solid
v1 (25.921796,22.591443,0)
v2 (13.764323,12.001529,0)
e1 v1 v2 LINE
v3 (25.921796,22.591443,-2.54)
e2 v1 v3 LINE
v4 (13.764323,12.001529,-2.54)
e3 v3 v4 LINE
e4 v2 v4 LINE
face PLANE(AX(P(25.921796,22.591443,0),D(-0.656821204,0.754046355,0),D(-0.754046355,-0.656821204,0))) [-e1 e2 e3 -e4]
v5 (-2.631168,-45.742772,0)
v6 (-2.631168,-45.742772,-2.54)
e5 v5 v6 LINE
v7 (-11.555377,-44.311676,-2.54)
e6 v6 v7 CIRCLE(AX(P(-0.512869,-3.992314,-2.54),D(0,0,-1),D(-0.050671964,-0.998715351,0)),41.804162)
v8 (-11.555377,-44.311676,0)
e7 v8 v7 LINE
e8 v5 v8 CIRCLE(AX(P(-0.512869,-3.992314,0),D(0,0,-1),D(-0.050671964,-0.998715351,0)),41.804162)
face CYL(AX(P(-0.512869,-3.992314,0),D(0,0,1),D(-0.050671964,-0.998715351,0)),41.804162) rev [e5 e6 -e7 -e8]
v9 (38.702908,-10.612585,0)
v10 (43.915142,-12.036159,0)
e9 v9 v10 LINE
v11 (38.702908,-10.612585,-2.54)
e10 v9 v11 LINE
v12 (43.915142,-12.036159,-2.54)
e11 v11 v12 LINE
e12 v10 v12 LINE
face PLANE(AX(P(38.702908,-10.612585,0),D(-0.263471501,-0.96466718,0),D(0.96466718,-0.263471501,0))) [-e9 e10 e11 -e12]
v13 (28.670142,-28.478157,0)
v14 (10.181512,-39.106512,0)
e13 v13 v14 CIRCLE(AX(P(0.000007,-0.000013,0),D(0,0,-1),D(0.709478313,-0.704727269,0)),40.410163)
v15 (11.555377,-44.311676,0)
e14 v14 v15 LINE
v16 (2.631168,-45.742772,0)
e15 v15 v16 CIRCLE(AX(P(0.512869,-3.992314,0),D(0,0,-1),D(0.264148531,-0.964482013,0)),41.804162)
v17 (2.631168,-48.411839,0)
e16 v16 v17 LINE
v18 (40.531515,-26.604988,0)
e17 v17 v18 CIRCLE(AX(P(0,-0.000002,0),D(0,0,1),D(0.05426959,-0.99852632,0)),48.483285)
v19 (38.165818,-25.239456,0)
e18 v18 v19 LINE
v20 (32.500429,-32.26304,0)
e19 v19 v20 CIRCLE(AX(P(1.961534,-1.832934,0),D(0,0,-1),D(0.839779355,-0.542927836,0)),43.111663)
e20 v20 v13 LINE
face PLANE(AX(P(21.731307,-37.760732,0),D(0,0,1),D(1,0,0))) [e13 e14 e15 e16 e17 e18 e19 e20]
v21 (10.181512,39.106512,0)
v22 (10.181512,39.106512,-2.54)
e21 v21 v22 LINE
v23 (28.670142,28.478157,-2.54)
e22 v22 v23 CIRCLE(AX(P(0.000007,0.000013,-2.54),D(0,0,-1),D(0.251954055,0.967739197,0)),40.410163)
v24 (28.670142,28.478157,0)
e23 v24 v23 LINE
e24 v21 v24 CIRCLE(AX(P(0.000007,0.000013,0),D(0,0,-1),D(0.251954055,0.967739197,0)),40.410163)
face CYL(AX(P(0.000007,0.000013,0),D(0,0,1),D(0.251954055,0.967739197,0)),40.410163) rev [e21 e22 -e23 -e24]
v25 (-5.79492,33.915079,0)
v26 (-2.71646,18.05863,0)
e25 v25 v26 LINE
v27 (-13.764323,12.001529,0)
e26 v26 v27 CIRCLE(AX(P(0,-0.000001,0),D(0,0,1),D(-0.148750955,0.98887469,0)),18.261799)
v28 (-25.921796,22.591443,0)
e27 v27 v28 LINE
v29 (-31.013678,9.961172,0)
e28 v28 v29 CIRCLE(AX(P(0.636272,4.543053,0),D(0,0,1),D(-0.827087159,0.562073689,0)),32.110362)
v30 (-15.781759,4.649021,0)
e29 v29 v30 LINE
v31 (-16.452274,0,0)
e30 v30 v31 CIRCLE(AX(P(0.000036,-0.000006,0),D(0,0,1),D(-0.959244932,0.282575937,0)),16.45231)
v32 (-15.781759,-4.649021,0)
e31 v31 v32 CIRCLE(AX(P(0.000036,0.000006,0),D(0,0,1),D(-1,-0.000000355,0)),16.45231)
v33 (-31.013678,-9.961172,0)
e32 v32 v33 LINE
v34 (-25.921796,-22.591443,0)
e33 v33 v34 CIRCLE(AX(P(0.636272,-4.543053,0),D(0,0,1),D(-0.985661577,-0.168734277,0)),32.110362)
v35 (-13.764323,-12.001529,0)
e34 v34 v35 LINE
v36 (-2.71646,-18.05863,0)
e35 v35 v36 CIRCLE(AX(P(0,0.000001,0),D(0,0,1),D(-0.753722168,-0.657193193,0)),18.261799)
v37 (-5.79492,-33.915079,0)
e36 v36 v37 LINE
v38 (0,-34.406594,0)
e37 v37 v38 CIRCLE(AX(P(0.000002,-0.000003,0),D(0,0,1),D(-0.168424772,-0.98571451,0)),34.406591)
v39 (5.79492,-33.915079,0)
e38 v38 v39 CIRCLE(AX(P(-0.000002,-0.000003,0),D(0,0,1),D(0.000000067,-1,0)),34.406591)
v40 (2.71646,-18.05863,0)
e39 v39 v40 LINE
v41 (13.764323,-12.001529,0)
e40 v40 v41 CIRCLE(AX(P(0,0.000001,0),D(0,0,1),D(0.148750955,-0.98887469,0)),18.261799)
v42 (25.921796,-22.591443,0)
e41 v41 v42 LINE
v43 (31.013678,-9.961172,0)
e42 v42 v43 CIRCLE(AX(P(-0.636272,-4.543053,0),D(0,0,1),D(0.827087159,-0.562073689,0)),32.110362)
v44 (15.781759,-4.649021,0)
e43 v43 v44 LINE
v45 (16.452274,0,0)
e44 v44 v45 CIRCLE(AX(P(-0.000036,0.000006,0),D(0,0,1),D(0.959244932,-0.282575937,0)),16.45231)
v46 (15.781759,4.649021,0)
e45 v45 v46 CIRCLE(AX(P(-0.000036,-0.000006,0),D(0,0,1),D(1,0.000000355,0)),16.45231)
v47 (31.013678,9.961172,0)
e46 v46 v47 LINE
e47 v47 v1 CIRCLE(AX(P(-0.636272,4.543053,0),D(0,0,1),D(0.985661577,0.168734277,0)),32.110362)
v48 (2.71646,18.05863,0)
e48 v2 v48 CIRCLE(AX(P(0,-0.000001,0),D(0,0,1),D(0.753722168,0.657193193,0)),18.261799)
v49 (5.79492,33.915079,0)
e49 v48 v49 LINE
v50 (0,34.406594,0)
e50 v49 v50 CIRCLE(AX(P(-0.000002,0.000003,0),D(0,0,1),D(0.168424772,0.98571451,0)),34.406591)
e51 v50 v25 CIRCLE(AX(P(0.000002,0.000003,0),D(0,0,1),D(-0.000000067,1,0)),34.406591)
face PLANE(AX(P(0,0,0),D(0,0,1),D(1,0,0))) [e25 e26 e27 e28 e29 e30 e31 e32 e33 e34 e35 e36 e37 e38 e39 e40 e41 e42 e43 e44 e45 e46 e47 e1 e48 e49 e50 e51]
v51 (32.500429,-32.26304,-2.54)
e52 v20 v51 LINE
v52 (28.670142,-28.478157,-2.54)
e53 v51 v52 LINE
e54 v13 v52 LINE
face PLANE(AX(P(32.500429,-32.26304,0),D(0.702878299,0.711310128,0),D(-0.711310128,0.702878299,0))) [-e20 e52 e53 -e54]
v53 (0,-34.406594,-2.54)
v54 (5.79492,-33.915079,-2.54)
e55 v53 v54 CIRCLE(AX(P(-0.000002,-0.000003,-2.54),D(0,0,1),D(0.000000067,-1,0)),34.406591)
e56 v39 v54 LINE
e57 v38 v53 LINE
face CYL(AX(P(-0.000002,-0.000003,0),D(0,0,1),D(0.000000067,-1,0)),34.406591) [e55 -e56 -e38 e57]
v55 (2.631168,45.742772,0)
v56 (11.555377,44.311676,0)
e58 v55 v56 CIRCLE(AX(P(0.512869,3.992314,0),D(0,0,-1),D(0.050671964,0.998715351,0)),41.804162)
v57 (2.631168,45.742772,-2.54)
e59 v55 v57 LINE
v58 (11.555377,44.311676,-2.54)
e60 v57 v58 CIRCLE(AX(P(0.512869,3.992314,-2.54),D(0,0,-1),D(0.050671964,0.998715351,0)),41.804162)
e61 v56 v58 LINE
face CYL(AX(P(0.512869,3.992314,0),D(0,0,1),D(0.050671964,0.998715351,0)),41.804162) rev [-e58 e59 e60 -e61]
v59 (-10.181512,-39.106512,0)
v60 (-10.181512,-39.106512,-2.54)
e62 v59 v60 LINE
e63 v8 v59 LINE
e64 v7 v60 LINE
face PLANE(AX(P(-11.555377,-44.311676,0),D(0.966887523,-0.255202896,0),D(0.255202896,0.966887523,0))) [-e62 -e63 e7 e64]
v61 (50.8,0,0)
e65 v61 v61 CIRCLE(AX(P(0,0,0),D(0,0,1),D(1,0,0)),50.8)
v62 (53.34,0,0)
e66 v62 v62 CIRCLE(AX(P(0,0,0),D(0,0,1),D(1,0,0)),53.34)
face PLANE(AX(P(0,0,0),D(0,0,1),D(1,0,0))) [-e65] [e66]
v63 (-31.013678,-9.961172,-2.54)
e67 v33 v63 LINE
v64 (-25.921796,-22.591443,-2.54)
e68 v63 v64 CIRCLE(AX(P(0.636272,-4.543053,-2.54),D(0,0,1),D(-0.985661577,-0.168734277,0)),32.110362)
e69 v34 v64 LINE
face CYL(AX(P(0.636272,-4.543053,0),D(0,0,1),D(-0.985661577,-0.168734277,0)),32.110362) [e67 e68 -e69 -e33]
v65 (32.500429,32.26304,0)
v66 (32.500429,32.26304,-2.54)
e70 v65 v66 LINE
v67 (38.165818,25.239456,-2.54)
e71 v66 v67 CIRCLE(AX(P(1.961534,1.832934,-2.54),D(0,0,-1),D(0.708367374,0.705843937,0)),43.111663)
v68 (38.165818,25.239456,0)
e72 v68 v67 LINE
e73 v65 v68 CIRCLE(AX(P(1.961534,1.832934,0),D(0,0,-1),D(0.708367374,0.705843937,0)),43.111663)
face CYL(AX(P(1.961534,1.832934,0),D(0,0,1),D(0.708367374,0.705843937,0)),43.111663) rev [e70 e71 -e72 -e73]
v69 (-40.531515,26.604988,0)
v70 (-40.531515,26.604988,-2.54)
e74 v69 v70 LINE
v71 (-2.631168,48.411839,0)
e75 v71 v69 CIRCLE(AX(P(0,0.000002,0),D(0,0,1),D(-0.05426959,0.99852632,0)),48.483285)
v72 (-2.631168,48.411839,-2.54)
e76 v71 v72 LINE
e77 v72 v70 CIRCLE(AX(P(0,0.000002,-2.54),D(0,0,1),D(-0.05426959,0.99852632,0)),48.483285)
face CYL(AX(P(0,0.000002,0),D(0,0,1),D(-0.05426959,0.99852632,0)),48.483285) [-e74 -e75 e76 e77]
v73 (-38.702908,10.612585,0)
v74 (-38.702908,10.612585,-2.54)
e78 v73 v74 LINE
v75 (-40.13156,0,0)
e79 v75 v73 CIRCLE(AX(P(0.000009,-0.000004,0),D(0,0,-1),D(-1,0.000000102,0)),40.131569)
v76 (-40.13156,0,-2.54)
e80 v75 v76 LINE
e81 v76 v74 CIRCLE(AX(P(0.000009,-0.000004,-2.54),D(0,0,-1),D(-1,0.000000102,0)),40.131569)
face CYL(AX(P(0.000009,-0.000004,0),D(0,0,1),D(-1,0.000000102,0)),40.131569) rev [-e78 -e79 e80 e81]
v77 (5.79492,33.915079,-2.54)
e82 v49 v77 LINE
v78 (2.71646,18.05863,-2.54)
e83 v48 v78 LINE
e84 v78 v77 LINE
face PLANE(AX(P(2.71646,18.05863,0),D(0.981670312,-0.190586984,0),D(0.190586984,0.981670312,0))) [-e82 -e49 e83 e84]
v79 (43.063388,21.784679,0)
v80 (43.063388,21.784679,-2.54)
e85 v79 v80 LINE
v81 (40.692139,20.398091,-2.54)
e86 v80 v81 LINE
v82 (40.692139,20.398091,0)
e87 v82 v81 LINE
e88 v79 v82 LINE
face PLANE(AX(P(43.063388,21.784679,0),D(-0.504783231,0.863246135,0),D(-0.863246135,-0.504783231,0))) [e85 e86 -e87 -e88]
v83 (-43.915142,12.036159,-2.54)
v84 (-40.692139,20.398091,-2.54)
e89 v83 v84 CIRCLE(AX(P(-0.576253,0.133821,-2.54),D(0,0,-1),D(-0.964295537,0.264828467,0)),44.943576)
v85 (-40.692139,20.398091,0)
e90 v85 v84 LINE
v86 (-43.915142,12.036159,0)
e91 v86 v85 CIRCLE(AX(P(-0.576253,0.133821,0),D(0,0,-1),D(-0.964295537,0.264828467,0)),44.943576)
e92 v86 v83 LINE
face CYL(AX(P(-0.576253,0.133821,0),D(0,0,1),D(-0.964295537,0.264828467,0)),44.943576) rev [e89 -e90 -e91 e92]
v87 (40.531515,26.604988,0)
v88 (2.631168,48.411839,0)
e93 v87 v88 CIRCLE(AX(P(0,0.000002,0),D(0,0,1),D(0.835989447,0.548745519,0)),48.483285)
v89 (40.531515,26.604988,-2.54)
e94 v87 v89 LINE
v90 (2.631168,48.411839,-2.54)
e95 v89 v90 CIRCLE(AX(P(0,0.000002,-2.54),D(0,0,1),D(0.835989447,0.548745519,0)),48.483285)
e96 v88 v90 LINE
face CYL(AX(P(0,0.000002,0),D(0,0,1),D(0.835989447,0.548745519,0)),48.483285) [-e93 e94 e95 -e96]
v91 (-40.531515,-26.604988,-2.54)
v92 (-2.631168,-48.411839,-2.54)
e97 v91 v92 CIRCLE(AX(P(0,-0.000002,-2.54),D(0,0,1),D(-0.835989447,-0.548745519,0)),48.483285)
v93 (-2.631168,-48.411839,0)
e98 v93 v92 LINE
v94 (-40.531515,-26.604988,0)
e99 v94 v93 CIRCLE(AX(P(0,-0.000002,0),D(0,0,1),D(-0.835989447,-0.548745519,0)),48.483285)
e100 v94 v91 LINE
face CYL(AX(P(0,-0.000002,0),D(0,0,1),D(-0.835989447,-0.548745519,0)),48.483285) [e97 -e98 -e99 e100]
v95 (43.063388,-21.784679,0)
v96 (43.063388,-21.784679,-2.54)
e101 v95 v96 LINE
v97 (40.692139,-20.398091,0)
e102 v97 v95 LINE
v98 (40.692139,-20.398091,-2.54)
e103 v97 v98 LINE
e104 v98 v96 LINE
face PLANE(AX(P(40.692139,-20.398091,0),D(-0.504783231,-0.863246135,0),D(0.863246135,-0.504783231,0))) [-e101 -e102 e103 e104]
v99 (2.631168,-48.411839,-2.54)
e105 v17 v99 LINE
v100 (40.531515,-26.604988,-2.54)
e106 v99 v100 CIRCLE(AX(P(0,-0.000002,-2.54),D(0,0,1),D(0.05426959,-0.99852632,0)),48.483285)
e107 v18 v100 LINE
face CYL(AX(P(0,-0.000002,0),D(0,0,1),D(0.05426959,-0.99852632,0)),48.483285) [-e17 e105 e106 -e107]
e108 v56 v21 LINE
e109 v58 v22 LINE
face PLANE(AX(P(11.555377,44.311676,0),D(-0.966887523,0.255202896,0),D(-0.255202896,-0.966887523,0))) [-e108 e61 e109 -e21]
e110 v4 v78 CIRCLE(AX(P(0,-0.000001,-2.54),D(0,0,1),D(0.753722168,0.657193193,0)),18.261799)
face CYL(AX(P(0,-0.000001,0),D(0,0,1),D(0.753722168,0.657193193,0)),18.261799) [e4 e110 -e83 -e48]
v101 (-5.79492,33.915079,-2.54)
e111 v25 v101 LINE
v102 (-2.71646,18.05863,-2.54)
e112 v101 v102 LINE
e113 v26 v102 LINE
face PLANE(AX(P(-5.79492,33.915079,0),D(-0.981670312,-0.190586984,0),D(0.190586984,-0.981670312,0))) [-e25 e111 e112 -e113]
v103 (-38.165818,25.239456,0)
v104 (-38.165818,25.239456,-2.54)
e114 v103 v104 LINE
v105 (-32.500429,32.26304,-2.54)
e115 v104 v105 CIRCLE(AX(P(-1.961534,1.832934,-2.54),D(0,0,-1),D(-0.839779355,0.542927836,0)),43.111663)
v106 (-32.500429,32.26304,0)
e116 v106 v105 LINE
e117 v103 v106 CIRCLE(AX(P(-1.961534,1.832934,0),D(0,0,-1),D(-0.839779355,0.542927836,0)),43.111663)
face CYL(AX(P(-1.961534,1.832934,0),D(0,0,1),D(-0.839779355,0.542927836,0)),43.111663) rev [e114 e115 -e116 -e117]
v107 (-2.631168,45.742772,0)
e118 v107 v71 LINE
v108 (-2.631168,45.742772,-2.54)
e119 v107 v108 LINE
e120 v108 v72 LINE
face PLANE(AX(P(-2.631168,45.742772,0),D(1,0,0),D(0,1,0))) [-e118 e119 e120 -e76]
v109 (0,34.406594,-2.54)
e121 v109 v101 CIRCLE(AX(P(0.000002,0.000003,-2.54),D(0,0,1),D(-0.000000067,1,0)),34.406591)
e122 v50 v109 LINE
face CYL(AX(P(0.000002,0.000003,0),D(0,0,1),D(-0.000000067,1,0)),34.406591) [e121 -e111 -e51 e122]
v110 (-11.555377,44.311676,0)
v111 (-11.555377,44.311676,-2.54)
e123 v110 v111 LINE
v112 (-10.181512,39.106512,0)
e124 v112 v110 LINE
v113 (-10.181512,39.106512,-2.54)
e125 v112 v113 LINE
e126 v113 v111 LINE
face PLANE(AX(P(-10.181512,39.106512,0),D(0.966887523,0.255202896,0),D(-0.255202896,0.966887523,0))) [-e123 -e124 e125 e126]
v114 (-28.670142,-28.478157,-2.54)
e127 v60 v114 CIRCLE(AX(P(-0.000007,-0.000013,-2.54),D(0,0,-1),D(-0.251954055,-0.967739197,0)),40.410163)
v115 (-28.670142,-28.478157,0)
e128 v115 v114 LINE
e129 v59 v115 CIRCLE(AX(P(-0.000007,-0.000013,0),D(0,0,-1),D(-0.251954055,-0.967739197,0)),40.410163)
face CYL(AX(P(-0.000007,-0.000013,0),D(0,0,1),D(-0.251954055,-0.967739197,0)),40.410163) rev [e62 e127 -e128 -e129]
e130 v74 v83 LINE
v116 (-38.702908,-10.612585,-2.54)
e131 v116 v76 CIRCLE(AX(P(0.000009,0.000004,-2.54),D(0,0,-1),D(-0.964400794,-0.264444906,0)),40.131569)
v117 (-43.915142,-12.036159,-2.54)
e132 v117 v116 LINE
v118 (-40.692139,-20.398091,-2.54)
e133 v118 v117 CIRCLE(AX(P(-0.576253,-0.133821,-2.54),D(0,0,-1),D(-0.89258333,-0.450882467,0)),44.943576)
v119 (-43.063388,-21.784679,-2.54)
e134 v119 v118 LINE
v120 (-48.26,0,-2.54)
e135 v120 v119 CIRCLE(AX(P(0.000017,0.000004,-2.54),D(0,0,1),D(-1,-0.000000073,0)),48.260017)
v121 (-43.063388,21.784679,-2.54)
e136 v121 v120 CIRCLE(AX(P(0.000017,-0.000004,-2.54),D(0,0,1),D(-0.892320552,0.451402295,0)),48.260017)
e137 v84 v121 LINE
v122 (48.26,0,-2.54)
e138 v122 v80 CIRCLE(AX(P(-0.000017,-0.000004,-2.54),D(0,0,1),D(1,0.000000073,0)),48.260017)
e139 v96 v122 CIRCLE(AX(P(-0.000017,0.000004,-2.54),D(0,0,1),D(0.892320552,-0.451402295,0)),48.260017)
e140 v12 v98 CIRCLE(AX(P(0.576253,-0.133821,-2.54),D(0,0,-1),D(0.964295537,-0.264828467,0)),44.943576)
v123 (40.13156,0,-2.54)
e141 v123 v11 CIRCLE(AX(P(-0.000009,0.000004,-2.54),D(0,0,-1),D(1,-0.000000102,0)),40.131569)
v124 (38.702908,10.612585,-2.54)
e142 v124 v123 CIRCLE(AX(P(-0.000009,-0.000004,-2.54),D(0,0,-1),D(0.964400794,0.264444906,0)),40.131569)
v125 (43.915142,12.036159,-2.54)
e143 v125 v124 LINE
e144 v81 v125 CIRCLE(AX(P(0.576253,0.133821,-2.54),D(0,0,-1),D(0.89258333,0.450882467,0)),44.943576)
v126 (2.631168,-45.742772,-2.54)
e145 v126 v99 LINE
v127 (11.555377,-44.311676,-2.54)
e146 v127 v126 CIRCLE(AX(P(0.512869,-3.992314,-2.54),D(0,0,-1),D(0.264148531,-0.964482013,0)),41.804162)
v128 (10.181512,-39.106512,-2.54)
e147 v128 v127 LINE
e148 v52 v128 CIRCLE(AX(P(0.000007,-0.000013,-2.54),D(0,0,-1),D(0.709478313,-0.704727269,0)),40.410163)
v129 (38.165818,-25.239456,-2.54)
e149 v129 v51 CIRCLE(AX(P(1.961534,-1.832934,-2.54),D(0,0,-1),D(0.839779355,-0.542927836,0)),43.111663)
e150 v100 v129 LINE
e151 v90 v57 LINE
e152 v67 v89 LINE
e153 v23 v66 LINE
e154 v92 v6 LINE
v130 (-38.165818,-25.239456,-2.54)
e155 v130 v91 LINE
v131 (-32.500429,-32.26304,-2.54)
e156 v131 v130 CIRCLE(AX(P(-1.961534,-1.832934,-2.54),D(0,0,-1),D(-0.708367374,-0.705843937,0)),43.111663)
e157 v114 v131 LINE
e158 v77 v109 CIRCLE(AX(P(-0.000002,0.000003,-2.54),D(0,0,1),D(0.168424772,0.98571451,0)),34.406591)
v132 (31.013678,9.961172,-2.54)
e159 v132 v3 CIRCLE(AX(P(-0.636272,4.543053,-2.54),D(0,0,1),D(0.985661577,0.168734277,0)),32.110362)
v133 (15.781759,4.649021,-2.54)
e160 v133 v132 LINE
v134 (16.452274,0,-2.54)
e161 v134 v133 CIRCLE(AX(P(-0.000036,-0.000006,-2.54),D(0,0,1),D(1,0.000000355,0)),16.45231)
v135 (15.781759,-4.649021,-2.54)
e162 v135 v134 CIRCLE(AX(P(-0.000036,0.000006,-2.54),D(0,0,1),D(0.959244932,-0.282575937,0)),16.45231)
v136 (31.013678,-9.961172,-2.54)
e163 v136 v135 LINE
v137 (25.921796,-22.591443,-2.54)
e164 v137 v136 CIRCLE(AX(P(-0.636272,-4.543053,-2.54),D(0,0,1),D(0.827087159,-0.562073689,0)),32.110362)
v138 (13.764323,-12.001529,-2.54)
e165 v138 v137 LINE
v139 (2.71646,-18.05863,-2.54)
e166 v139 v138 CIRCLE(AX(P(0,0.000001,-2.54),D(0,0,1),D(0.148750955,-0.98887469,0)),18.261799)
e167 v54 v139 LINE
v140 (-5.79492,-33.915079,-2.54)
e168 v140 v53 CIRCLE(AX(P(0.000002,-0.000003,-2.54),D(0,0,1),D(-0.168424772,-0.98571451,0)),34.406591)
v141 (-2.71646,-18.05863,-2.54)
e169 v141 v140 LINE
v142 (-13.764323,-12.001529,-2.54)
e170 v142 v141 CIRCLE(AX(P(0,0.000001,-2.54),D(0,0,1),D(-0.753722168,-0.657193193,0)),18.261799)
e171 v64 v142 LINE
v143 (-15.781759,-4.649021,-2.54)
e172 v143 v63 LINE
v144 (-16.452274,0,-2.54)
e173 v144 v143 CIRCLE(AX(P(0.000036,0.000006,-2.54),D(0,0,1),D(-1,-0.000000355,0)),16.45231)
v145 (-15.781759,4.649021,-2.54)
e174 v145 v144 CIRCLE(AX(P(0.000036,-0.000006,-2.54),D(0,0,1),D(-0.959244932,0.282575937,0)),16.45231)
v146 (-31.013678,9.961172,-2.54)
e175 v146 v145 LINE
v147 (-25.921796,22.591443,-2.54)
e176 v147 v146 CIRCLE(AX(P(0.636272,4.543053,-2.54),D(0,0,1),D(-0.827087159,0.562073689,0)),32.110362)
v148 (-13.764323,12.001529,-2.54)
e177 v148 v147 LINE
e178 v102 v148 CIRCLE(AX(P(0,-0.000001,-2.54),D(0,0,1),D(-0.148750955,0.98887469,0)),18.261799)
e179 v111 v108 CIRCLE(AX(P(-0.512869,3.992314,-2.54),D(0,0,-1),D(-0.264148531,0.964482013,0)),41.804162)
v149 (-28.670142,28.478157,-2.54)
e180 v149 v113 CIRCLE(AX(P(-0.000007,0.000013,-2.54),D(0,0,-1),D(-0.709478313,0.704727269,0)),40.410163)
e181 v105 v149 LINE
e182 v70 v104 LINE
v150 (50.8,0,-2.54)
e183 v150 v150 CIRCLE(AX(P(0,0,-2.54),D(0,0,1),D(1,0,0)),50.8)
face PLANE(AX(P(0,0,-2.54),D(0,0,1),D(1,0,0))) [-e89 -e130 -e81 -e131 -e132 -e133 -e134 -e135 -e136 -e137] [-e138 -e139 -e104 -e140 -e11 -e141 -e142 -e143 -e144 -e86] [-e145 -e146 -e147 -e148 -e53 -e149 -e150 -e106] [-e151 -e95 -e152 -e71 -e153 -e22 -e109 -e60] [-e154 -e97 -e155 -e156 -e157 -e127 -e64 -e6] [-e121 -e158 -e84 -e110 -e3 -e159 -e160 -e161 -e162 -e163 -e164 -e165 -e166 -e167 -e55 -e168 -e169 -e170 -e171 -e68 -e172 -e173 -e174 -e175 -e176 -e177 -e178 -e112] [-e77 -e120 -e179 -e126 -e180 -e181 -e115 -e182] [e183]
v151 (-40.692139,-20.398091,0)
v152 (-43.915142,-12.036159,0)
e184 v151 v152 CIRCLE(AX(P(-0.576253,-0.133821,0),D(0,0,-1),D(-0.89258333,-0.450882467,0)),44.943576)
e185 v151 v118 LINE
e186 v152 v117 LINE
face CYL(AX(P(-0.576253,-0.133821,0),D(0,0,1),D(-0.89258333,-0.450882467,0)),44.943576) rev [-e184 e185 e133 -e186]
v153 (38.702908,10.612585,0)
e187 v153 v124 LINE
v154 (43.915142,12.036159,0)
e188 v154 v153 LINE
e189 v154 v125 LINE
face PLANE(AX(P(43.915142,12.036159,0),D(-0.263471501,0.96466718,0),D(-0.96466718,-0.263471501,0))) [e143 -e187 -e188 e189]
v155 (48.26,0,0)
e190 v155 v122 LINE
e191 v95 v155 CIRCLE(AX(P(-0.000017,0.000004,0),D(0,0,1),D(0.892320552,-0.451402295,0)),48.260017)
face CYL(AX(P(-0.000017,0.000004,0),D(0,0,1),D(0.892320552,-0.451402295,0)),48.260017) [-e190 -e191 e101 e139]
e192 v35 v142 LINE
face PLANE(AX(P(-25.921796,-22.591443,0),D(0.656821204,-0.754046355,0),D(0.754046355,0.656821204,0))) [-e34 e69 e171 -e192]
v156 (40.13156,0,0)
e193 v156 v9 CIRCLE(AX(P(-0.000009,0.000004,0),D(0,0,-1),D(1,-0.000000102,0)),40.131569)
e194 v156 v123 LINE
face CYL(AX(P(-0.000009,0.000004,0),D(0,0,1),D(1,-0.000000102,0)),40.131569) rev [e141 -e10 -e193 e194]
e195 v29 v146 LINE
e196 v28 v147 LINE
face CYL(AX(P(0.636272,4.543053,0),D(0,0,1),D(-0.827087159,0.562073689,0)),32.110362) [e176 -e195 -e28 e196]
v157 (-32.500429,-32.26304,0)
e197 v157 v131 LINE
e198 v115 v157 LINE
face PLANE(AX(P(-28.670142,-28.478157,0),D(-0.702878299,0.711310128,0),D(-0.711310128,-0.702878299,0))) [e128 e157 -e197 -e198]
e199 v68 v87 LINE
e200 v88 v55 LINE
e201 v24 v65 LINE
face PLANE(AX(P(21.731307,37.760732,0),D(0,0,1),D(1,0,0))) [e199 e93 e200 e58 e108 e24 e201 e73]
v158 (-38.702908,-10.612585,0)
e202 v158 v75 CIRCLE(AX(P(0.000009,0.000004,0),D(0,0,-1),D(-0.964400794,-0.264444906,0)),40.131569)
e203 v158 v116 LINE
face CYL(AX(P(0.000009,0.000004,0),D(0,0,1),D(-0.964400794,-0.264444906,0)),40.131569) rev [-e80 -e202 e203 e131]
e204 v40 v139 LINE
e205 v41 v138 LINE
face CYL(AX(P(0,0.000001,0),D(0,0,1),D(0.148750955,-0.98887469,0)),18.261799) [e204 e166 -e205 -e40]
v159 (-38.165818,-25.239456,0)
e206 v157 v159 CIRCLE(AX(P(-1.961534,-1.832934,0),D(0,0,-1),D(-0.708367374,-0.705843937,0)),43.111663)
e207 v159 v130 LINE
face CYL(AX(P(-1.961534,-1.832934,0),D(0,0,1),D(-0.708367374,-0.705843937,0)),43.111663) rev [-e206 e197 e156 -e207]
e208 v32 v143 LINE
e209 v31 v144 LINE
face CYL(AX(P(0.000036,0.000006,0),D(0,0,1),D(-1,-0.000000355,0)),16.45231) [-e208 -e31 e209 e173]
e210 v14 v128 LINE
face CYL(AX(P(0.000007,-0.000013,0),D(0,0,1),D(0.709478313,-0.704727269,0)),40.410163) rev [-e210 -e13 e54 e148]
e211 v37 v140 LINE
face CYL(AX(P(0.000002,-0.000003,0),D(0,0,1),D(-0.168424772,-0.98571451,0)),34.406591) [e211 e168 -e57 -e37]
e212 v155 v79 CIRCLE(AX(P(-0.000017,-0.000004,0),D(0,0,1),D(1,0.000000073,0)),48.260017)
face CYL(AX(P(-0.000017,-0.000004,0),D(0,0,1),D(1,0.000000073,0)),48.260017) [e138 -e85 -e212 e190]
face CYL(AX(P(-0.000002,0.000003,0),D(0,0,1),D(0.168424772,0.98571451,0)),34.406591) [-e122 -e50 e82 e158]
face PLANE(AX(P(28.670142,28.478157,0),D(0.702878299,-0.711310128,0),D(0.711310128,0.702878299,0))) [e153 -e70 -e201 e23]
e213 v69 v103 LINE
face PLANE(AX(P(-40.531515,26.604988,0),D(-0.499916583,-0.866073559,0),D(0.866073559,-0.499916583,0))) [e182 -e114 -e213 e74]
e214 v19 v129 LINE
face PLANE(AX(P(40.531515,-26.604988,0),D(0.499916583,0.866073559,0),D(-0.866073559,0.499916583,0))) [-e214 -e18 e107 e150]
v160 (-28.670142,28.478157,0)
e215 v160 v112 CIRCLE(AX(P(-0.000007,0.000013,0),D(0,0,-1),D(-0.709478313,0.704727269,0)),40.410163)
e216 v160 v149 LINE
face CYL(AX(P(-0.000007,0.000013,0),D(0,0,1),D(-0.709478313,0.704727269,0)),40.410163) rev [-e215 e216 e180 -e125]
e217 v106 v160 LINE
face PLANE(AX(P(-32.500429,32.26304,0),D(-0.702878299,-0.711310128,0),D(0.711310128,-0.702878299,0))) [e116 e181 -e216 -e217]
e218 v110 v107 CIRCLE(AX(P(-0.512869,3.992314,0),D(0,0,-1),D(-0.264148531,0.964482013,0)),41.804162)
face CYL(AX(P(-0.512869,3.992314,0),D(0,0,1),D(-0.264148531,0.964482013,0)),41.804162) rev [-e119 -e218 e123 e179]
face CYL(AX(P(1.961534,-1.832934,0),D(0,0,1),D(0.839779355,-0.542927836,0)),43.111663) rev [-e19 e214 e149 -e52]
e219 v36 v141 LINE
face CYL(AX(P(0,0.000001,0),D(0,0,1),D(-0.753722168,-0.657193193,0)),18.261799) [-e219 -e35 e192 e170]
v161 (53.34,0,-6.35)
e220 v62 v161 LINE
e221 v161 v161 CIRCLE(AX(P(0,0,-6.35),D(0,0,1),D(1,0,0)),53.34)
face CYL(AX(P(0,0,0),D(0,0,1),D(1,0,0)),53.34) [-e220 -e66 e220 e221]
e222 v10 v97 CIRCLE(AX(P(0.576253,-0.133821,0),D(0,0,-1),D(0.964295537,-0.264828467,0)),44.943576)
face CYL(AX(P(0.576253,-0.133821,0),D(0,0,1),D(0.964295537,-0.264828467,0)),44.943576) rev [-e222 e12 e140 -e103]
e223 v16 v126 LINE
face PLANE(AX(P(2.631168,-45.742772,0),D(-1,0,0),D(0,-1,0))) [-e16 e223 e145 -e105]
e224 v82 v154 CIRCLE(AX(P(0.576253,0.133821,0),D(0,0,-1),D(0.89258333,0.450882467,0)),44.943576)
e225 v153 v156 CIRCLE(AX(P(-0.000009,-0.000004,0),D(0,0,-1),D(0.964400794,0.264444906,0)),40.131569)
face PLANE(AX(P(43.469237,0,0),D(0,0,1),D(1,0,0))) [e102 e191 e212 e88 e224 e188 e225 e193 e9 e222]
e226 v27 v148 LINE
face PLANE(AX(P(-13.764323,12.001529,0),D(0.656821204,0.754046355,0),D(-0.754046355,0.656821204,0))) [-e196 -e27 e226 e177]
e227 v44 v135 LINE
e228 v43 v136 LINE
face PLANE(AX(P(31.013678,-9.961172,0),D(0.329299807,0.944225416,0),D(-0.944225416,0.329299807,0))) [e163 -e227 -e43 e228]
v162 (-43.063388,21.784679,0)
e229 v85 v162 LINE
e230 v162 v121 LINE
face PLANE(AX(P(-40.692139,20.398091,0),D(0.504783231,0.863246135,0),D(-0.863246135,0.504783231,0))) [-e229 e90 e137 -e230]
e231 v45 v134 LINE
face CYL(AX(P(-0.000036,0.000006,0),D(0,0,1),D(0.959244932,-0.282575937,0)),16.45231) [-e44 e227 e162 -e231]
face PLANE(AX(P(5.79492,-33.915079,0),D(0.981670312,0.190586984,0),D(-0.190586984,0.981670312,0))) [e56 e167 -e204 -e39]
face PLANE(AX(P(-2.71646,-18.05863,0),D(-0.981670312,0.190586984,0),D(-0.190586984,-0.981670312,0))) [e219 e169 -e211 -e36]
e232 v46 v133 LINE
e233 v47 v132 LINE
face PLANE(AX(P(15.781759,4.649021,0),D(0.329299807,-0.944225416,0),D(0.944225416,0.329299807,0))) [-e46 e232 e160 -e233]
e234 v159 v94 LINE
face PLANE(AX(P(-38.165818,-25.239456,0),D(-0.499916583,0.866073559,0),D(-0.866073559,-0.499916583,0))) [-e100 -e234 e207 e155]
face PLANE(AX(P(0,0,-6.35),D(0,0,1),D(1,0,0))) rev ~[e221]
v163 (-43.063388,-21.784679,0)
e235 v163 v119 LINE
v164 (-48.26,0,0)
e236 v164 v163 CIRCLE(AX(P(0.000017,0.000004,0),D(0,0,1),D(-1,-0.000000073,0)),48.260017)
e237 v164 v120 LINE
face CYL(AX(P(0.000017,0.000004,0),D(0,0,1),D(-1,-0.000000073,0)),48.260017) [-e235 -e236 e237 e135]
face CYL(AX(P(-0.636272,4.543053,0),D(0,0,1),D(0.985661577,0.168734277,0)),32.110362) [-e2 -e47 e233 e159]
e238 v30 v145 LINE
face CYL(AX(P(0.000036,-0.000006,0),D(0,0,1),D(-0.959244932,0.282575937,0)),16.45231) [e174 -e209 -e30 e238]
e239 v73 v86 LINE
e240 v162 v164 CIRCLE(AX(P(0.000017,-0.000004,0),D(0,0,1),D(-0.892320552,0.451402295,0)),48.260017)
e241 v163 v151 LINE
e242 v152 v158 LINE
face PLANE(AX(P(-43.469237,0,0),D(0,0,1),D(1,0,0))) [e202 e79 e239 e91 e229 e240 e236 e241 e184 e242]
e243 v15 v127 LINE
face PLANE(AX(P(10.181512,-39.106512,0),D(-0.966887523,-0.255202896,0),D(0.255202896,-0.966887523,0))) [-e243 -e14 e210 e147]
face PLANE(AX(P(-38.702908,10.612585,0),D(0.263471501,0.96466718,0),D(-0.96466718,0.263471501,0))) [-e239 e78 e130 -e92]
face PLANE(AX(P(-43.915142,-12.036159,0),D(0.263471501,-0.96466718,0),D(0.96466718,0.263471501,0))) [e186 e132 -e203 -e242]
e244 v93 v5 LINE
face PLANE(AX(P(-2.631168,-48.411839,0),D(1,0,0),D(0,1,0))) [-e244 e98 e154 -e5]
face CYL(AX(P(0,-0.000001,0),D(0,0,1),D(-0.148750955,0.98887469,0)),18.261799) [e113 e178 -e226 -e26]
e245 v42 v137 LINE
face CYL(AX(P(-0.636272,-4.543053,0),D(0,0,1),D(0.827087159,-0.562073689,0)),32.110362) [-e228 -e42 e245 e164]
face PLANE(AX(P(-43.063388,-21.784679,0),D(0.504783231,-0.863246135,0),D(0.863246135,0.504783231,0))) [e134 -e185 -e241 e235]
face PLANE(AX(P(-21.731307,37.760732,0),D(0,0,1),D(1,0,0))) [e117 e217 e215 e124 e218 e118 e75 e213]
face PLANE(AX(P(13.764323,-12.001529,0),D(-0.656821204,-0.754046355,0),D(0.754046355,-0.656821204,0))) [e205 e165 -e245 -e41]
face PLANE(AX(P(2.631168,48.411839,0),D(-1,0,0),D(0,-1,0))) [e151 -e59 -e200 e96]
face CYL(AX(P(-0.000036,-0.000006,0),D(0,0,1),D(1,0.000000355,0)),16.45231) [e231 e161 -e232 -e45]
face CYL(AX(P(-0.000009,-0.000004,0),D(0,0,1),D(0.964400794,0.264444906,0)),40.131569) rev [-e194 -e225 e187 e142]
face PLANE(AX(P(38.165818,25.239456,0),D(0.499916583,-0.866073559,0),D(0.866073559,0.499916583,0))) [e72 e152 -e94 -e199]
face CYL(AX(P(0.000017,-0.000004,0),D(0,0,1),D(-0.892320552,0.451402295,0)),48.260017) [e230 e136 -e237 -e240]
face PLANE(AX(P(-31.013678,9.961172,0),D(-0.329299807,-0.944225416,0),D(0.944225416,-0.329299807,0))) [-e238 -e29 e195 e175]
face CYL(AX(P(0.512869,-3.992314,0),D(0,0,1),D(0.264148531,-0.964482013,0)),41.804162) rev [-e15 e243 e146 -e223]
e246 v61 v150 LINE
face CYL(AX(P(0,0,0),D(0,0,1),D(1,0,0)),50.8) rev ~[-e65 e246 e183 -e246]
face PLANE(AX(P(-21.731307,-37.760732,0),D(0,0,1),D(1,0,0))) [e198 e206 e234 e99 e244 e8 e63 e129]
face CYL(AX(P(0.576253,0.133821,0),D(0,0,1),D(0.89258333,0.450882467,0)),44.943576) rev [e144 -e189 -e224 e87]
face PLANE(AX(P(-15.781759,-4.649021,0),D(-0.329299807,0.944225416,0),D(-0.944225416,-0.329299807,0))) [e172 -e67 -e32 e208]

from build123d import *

# Parameters (mm, degrees)
F2_R     = 53.34
F3_DEPTH = 6.35
F0_R     = 50.8
F4_DEPTH = 2.54
F5_DEPTH = 2.54


with BuildPart() as f3:
    # F2 (on Top) → F3 (new body)
    with BuildSketch(Plane.XY):
        Circle(F2_R)
    extrude(amount=-F3_DEPTH)

    # F0 (on Top) → F4 (cut)
    with BuildSketch(Plane.XY):
        Circle(F0_R)
    extrude(amount=-F4_DEPTH, mode=Mode.SUBTRACT)

    # F1 (on Top) → F5 (join)
    with BuildSketch(Plane.XY):
        with BuildLine():
            ThreePointArc((-43.063388, 21.784679), (-46.942873, 11.197957), (-48.26, 0))
            ThreePointArc((-48.26, 0), (-46.942873, -11.197957), (-43.063388, -21.784679))
            Line((-43.063388, -21.784679), (-40.692139, -20.398091))
            ThreePointArc((-40.692139, -20.398091), (-42.512578, -16.297657), (-43.915142, -12.036159))
            Line((-43.915142, -12.036159), (-38.702908, -10.612585))
            ThreePointArc((-38.702908, -10.612585), (-39.772793, -5.354158), (-40.13156, 0))
            ThreePointArc((-40.13156, 0), (-39.772793, 5.354158), (-38.702908, 10.612585))
            Line((-38.702908, 10.612585), (-43.915142, 12.036159))
            ThreePointArc((-43.915142, 12.036159), (-42.512578, 16.297657), (-40.692139, 20.398091))
            Line((-40.692139, 20.398091), (-43.063388, 21.784679))
        make_face()
        with BuildLine():
            Line((-38.165818, -25.239456), (-40.531515, -26.604988))
            ThreePointArc((-40.531515, -26.604988), (-24.179309, -42.023686), (-2.631168, -48.411839))
            Line((-2.631168, -48.411839), (-2.631168, -45.742772))
            ThreePointArc((-2.631168, -45.742772), (-7.132062, -45.269114), (-11.555377, -44.311676))
            Line((-11.555377, -44.311676), (-10.181512, -39.106512))
            ThreePointArc((-10.181512, -39.106512), (-20.139594, -35.033973), (-28.670142, -28.478157))
            Line((-28.670142, -28.478157), (-32.500429, -32.26304))
            ThreePointArc((-32.500429, -32.26304), (-35.517393, -28.899884), (-38.165818, -25.239456))
        make_face()
        with BuildLine():
            Line((-2.71646, -18.05863), (-5.79492, -33.915079))
            ThreePointArc((-5.79492, -33.915079), (-2.907863, -34.283495), (0, -34.406594))
            ThreePointArc((0, -34.406594), (2.907863, -34.283495), (5.79492, -33.915079))
            Line((5.79492, -33.915079), (2.71646, -18.05863))
            ThreePointArc((2.71646, -18.05863), (8.779304, -16.013029), (13.764323, -12.001529))
            Line((13.764323, -12.001529), (25.921796, -22.591443))
            ThreePointArc((25.921796, -22.591443), (29.145002, -16.549346), (31.013678, -9.961172))
            Line((31.013678, -9.961172), (15.781759, -4.649021))
            ThreePointArc((15.781759, -4.649021), (16.283782, -2.348563), (16.452274, 0))
            ThreePointArc((16.452274, 0), (16.283782, 2.348563), (15.781759, 4.649021))
            Line((15.781759, 4.649021), (31.013678, 9.961172))
            ThreePointArc((31.013678, 9.961172), (29.145002, 16.549346), (25.921796, 22.591443))
            Line((25.921796, 22.591443), (13.764323, 12.001529))
            ThreePointArc((13.764323, 12.001529), (8.779304, 16.013029), (2.71646, 18.05863))
            Line((2.71646, 18.05863), (5.79492, 33.915079))
            ThreePointArc((5.79492, 33.915079), (2.907863, 34.283495), (0, 34.406594))
            ThreePointArc((0, 34.406594), (-2.907863, 34.283495), (-5.79492, 33.915079))
            Line((-5.79492, 33.915079), (-2.71646, 18.05863))
            ThreePointArc((-2.71646, 18.05863), (-8.779304, 16.013029), (-13.764323, 12.001529))
            Line((-13.764323, 12.001529), (-25.921796, 22.591443))
            ThreePointArc((-25.921796, 22.591443), (-29.145002, 16.549346), (-31.013678, 9.961172))
            Line((-31.013678, 9.961172), (-15.781759, 4.649021))
            ThreePointArc((-15.781759, 4.649021), (-16.283782, 2.348563), (-16.452274, 0))
            ThreePointArc((-16.452274, 0), (-16.283782, -2.348563), (-15.781759, -4.649021))
            Line((-15.781759, -4.649021), (-31.013678, -9.961172))
            ThreePointArc((-31.013678, -9.961172), (-29.145002, -16.549346), (-25.921796, -22.591443))
            Line((-25.921796, -22.591443), (-13.764323, -12.001529))
            ThreePointArc((-13.764323, -12.001529), (-8.779304, -16.013029), (-2.71646, -18.05863))
        make_face()
        with BuildLine():
            Line((2.631168, -45.742772), (2.631168, -48.411839))
            ThreePointArc((2.631168, -48.411839), (24.179309, -42.023686), (40.531515, -26.604988))
            Line((40.531515, -26.604988), (38.165818, -25.239456))
            ThreePointArc((38.165818, -25.239456), (35.517393, -28.899884), (32.500429, -32.26304))
            Line((32.500429, -32.26304), (28.670142, -28.478157))
            ThreePointArc((28.670142, -28.478157), (20.139594, -35.033973), (10.181512, -39.106512))
            Line((10.181512, -39.106512), (11.555377, -44.311676))
            ThreePointArc((11.555377, -44.311676), (7.132062, -45.269114), (2.631168, -45.742772))
        make_face()
        with BuildLine():
            ThreePointArc((40.13156, 0), (39.772793, -5.354158), (38.702908, -10.612585))
            Line((38.702908, -10.612585), (43.915142, -12.036159))
            ThreePointArc((43.915142, -12.036159), (42.512578, -16.297657), (40.692139, -20.398091))
            Line((40.692139, -20.398091), (43.063388, -21.784679))
            ThreePointArc((43.063388, -21.784679), (46.942873, -11.197957), (48.26, 0))
            ThreePointArc((48.26, 0), (46.942873, 11.197957), (43.063388, 21.784679))
            Line((43.063388, 21.784679), (40.692139, 20.398091))
            ThreePointArc((40.692139, 20.398091), (42.512578, 16.297657), (43.915142, 12.036159))
            Line((43.915142, 12.036159), (38.702908, 10.612585))
            ThreePointArc((38.702908, 10.612585), (39.772793, 5.354158), (40.13156, 0))
        make_face()
        with BuildLine():
            ThreePointArc((40.531515, 26.604988), (24.179309, 42.023686), (2.631168, 48.411839))
            Line((2.631168, 48.411839), (2.631168, 45.742772))
            ThreePointArc((2.631168, 45.742772), (7.132062, 45.269114), (11.555377, 44.311676))
            Line((11.555377, 44.311676), (10.181512, 39.106512))
            ThreePointArc((10.181512, 39.106512), (20.139594, 35.033973), (28.670142, 28.478157))
            Line((28.670142, 28.478157), (32.500429, 32.26304))
            ThreePointArc((32.500429, 32.26304), (35.517393, 28.899884), (38.165818, 25.239456))
            Line((38.165818, 25.239456), (40.531515, 26.604988))
        make_face()
        with BuildLine():
            ThreePointArc((-2.631168, 48.411839), (-24.179309, 42.023686), (-40.531515, 26.604988))
            Line((-40.531515, 26.604988), (-38.165818, 25.239456))
            ThreePointArc((-38.165818, 25.239456), (-35.517393, 28.899884), (-32.500429, 32.26304))
            Line((-32.500429, 32.26304), (-28.670142, 28.478157))
            ThreePointArc((-28.670142, 28.478157), (-20.139594, 35.033973), (-10.181512, 39.106512))
            Line((-10.181512, 39.106512), (-11.555377, 44.311676))
            ThreePointArc((-11.555377, 44.311676), (-7.132062, 45.269114), (-2.631168, 45.742772))
            Line((-2.631168, 45.742772), (-2.631168, 48.411839))
        make_face()
    extrude(amount=-F5_DEPTH)


solid = f3.part
